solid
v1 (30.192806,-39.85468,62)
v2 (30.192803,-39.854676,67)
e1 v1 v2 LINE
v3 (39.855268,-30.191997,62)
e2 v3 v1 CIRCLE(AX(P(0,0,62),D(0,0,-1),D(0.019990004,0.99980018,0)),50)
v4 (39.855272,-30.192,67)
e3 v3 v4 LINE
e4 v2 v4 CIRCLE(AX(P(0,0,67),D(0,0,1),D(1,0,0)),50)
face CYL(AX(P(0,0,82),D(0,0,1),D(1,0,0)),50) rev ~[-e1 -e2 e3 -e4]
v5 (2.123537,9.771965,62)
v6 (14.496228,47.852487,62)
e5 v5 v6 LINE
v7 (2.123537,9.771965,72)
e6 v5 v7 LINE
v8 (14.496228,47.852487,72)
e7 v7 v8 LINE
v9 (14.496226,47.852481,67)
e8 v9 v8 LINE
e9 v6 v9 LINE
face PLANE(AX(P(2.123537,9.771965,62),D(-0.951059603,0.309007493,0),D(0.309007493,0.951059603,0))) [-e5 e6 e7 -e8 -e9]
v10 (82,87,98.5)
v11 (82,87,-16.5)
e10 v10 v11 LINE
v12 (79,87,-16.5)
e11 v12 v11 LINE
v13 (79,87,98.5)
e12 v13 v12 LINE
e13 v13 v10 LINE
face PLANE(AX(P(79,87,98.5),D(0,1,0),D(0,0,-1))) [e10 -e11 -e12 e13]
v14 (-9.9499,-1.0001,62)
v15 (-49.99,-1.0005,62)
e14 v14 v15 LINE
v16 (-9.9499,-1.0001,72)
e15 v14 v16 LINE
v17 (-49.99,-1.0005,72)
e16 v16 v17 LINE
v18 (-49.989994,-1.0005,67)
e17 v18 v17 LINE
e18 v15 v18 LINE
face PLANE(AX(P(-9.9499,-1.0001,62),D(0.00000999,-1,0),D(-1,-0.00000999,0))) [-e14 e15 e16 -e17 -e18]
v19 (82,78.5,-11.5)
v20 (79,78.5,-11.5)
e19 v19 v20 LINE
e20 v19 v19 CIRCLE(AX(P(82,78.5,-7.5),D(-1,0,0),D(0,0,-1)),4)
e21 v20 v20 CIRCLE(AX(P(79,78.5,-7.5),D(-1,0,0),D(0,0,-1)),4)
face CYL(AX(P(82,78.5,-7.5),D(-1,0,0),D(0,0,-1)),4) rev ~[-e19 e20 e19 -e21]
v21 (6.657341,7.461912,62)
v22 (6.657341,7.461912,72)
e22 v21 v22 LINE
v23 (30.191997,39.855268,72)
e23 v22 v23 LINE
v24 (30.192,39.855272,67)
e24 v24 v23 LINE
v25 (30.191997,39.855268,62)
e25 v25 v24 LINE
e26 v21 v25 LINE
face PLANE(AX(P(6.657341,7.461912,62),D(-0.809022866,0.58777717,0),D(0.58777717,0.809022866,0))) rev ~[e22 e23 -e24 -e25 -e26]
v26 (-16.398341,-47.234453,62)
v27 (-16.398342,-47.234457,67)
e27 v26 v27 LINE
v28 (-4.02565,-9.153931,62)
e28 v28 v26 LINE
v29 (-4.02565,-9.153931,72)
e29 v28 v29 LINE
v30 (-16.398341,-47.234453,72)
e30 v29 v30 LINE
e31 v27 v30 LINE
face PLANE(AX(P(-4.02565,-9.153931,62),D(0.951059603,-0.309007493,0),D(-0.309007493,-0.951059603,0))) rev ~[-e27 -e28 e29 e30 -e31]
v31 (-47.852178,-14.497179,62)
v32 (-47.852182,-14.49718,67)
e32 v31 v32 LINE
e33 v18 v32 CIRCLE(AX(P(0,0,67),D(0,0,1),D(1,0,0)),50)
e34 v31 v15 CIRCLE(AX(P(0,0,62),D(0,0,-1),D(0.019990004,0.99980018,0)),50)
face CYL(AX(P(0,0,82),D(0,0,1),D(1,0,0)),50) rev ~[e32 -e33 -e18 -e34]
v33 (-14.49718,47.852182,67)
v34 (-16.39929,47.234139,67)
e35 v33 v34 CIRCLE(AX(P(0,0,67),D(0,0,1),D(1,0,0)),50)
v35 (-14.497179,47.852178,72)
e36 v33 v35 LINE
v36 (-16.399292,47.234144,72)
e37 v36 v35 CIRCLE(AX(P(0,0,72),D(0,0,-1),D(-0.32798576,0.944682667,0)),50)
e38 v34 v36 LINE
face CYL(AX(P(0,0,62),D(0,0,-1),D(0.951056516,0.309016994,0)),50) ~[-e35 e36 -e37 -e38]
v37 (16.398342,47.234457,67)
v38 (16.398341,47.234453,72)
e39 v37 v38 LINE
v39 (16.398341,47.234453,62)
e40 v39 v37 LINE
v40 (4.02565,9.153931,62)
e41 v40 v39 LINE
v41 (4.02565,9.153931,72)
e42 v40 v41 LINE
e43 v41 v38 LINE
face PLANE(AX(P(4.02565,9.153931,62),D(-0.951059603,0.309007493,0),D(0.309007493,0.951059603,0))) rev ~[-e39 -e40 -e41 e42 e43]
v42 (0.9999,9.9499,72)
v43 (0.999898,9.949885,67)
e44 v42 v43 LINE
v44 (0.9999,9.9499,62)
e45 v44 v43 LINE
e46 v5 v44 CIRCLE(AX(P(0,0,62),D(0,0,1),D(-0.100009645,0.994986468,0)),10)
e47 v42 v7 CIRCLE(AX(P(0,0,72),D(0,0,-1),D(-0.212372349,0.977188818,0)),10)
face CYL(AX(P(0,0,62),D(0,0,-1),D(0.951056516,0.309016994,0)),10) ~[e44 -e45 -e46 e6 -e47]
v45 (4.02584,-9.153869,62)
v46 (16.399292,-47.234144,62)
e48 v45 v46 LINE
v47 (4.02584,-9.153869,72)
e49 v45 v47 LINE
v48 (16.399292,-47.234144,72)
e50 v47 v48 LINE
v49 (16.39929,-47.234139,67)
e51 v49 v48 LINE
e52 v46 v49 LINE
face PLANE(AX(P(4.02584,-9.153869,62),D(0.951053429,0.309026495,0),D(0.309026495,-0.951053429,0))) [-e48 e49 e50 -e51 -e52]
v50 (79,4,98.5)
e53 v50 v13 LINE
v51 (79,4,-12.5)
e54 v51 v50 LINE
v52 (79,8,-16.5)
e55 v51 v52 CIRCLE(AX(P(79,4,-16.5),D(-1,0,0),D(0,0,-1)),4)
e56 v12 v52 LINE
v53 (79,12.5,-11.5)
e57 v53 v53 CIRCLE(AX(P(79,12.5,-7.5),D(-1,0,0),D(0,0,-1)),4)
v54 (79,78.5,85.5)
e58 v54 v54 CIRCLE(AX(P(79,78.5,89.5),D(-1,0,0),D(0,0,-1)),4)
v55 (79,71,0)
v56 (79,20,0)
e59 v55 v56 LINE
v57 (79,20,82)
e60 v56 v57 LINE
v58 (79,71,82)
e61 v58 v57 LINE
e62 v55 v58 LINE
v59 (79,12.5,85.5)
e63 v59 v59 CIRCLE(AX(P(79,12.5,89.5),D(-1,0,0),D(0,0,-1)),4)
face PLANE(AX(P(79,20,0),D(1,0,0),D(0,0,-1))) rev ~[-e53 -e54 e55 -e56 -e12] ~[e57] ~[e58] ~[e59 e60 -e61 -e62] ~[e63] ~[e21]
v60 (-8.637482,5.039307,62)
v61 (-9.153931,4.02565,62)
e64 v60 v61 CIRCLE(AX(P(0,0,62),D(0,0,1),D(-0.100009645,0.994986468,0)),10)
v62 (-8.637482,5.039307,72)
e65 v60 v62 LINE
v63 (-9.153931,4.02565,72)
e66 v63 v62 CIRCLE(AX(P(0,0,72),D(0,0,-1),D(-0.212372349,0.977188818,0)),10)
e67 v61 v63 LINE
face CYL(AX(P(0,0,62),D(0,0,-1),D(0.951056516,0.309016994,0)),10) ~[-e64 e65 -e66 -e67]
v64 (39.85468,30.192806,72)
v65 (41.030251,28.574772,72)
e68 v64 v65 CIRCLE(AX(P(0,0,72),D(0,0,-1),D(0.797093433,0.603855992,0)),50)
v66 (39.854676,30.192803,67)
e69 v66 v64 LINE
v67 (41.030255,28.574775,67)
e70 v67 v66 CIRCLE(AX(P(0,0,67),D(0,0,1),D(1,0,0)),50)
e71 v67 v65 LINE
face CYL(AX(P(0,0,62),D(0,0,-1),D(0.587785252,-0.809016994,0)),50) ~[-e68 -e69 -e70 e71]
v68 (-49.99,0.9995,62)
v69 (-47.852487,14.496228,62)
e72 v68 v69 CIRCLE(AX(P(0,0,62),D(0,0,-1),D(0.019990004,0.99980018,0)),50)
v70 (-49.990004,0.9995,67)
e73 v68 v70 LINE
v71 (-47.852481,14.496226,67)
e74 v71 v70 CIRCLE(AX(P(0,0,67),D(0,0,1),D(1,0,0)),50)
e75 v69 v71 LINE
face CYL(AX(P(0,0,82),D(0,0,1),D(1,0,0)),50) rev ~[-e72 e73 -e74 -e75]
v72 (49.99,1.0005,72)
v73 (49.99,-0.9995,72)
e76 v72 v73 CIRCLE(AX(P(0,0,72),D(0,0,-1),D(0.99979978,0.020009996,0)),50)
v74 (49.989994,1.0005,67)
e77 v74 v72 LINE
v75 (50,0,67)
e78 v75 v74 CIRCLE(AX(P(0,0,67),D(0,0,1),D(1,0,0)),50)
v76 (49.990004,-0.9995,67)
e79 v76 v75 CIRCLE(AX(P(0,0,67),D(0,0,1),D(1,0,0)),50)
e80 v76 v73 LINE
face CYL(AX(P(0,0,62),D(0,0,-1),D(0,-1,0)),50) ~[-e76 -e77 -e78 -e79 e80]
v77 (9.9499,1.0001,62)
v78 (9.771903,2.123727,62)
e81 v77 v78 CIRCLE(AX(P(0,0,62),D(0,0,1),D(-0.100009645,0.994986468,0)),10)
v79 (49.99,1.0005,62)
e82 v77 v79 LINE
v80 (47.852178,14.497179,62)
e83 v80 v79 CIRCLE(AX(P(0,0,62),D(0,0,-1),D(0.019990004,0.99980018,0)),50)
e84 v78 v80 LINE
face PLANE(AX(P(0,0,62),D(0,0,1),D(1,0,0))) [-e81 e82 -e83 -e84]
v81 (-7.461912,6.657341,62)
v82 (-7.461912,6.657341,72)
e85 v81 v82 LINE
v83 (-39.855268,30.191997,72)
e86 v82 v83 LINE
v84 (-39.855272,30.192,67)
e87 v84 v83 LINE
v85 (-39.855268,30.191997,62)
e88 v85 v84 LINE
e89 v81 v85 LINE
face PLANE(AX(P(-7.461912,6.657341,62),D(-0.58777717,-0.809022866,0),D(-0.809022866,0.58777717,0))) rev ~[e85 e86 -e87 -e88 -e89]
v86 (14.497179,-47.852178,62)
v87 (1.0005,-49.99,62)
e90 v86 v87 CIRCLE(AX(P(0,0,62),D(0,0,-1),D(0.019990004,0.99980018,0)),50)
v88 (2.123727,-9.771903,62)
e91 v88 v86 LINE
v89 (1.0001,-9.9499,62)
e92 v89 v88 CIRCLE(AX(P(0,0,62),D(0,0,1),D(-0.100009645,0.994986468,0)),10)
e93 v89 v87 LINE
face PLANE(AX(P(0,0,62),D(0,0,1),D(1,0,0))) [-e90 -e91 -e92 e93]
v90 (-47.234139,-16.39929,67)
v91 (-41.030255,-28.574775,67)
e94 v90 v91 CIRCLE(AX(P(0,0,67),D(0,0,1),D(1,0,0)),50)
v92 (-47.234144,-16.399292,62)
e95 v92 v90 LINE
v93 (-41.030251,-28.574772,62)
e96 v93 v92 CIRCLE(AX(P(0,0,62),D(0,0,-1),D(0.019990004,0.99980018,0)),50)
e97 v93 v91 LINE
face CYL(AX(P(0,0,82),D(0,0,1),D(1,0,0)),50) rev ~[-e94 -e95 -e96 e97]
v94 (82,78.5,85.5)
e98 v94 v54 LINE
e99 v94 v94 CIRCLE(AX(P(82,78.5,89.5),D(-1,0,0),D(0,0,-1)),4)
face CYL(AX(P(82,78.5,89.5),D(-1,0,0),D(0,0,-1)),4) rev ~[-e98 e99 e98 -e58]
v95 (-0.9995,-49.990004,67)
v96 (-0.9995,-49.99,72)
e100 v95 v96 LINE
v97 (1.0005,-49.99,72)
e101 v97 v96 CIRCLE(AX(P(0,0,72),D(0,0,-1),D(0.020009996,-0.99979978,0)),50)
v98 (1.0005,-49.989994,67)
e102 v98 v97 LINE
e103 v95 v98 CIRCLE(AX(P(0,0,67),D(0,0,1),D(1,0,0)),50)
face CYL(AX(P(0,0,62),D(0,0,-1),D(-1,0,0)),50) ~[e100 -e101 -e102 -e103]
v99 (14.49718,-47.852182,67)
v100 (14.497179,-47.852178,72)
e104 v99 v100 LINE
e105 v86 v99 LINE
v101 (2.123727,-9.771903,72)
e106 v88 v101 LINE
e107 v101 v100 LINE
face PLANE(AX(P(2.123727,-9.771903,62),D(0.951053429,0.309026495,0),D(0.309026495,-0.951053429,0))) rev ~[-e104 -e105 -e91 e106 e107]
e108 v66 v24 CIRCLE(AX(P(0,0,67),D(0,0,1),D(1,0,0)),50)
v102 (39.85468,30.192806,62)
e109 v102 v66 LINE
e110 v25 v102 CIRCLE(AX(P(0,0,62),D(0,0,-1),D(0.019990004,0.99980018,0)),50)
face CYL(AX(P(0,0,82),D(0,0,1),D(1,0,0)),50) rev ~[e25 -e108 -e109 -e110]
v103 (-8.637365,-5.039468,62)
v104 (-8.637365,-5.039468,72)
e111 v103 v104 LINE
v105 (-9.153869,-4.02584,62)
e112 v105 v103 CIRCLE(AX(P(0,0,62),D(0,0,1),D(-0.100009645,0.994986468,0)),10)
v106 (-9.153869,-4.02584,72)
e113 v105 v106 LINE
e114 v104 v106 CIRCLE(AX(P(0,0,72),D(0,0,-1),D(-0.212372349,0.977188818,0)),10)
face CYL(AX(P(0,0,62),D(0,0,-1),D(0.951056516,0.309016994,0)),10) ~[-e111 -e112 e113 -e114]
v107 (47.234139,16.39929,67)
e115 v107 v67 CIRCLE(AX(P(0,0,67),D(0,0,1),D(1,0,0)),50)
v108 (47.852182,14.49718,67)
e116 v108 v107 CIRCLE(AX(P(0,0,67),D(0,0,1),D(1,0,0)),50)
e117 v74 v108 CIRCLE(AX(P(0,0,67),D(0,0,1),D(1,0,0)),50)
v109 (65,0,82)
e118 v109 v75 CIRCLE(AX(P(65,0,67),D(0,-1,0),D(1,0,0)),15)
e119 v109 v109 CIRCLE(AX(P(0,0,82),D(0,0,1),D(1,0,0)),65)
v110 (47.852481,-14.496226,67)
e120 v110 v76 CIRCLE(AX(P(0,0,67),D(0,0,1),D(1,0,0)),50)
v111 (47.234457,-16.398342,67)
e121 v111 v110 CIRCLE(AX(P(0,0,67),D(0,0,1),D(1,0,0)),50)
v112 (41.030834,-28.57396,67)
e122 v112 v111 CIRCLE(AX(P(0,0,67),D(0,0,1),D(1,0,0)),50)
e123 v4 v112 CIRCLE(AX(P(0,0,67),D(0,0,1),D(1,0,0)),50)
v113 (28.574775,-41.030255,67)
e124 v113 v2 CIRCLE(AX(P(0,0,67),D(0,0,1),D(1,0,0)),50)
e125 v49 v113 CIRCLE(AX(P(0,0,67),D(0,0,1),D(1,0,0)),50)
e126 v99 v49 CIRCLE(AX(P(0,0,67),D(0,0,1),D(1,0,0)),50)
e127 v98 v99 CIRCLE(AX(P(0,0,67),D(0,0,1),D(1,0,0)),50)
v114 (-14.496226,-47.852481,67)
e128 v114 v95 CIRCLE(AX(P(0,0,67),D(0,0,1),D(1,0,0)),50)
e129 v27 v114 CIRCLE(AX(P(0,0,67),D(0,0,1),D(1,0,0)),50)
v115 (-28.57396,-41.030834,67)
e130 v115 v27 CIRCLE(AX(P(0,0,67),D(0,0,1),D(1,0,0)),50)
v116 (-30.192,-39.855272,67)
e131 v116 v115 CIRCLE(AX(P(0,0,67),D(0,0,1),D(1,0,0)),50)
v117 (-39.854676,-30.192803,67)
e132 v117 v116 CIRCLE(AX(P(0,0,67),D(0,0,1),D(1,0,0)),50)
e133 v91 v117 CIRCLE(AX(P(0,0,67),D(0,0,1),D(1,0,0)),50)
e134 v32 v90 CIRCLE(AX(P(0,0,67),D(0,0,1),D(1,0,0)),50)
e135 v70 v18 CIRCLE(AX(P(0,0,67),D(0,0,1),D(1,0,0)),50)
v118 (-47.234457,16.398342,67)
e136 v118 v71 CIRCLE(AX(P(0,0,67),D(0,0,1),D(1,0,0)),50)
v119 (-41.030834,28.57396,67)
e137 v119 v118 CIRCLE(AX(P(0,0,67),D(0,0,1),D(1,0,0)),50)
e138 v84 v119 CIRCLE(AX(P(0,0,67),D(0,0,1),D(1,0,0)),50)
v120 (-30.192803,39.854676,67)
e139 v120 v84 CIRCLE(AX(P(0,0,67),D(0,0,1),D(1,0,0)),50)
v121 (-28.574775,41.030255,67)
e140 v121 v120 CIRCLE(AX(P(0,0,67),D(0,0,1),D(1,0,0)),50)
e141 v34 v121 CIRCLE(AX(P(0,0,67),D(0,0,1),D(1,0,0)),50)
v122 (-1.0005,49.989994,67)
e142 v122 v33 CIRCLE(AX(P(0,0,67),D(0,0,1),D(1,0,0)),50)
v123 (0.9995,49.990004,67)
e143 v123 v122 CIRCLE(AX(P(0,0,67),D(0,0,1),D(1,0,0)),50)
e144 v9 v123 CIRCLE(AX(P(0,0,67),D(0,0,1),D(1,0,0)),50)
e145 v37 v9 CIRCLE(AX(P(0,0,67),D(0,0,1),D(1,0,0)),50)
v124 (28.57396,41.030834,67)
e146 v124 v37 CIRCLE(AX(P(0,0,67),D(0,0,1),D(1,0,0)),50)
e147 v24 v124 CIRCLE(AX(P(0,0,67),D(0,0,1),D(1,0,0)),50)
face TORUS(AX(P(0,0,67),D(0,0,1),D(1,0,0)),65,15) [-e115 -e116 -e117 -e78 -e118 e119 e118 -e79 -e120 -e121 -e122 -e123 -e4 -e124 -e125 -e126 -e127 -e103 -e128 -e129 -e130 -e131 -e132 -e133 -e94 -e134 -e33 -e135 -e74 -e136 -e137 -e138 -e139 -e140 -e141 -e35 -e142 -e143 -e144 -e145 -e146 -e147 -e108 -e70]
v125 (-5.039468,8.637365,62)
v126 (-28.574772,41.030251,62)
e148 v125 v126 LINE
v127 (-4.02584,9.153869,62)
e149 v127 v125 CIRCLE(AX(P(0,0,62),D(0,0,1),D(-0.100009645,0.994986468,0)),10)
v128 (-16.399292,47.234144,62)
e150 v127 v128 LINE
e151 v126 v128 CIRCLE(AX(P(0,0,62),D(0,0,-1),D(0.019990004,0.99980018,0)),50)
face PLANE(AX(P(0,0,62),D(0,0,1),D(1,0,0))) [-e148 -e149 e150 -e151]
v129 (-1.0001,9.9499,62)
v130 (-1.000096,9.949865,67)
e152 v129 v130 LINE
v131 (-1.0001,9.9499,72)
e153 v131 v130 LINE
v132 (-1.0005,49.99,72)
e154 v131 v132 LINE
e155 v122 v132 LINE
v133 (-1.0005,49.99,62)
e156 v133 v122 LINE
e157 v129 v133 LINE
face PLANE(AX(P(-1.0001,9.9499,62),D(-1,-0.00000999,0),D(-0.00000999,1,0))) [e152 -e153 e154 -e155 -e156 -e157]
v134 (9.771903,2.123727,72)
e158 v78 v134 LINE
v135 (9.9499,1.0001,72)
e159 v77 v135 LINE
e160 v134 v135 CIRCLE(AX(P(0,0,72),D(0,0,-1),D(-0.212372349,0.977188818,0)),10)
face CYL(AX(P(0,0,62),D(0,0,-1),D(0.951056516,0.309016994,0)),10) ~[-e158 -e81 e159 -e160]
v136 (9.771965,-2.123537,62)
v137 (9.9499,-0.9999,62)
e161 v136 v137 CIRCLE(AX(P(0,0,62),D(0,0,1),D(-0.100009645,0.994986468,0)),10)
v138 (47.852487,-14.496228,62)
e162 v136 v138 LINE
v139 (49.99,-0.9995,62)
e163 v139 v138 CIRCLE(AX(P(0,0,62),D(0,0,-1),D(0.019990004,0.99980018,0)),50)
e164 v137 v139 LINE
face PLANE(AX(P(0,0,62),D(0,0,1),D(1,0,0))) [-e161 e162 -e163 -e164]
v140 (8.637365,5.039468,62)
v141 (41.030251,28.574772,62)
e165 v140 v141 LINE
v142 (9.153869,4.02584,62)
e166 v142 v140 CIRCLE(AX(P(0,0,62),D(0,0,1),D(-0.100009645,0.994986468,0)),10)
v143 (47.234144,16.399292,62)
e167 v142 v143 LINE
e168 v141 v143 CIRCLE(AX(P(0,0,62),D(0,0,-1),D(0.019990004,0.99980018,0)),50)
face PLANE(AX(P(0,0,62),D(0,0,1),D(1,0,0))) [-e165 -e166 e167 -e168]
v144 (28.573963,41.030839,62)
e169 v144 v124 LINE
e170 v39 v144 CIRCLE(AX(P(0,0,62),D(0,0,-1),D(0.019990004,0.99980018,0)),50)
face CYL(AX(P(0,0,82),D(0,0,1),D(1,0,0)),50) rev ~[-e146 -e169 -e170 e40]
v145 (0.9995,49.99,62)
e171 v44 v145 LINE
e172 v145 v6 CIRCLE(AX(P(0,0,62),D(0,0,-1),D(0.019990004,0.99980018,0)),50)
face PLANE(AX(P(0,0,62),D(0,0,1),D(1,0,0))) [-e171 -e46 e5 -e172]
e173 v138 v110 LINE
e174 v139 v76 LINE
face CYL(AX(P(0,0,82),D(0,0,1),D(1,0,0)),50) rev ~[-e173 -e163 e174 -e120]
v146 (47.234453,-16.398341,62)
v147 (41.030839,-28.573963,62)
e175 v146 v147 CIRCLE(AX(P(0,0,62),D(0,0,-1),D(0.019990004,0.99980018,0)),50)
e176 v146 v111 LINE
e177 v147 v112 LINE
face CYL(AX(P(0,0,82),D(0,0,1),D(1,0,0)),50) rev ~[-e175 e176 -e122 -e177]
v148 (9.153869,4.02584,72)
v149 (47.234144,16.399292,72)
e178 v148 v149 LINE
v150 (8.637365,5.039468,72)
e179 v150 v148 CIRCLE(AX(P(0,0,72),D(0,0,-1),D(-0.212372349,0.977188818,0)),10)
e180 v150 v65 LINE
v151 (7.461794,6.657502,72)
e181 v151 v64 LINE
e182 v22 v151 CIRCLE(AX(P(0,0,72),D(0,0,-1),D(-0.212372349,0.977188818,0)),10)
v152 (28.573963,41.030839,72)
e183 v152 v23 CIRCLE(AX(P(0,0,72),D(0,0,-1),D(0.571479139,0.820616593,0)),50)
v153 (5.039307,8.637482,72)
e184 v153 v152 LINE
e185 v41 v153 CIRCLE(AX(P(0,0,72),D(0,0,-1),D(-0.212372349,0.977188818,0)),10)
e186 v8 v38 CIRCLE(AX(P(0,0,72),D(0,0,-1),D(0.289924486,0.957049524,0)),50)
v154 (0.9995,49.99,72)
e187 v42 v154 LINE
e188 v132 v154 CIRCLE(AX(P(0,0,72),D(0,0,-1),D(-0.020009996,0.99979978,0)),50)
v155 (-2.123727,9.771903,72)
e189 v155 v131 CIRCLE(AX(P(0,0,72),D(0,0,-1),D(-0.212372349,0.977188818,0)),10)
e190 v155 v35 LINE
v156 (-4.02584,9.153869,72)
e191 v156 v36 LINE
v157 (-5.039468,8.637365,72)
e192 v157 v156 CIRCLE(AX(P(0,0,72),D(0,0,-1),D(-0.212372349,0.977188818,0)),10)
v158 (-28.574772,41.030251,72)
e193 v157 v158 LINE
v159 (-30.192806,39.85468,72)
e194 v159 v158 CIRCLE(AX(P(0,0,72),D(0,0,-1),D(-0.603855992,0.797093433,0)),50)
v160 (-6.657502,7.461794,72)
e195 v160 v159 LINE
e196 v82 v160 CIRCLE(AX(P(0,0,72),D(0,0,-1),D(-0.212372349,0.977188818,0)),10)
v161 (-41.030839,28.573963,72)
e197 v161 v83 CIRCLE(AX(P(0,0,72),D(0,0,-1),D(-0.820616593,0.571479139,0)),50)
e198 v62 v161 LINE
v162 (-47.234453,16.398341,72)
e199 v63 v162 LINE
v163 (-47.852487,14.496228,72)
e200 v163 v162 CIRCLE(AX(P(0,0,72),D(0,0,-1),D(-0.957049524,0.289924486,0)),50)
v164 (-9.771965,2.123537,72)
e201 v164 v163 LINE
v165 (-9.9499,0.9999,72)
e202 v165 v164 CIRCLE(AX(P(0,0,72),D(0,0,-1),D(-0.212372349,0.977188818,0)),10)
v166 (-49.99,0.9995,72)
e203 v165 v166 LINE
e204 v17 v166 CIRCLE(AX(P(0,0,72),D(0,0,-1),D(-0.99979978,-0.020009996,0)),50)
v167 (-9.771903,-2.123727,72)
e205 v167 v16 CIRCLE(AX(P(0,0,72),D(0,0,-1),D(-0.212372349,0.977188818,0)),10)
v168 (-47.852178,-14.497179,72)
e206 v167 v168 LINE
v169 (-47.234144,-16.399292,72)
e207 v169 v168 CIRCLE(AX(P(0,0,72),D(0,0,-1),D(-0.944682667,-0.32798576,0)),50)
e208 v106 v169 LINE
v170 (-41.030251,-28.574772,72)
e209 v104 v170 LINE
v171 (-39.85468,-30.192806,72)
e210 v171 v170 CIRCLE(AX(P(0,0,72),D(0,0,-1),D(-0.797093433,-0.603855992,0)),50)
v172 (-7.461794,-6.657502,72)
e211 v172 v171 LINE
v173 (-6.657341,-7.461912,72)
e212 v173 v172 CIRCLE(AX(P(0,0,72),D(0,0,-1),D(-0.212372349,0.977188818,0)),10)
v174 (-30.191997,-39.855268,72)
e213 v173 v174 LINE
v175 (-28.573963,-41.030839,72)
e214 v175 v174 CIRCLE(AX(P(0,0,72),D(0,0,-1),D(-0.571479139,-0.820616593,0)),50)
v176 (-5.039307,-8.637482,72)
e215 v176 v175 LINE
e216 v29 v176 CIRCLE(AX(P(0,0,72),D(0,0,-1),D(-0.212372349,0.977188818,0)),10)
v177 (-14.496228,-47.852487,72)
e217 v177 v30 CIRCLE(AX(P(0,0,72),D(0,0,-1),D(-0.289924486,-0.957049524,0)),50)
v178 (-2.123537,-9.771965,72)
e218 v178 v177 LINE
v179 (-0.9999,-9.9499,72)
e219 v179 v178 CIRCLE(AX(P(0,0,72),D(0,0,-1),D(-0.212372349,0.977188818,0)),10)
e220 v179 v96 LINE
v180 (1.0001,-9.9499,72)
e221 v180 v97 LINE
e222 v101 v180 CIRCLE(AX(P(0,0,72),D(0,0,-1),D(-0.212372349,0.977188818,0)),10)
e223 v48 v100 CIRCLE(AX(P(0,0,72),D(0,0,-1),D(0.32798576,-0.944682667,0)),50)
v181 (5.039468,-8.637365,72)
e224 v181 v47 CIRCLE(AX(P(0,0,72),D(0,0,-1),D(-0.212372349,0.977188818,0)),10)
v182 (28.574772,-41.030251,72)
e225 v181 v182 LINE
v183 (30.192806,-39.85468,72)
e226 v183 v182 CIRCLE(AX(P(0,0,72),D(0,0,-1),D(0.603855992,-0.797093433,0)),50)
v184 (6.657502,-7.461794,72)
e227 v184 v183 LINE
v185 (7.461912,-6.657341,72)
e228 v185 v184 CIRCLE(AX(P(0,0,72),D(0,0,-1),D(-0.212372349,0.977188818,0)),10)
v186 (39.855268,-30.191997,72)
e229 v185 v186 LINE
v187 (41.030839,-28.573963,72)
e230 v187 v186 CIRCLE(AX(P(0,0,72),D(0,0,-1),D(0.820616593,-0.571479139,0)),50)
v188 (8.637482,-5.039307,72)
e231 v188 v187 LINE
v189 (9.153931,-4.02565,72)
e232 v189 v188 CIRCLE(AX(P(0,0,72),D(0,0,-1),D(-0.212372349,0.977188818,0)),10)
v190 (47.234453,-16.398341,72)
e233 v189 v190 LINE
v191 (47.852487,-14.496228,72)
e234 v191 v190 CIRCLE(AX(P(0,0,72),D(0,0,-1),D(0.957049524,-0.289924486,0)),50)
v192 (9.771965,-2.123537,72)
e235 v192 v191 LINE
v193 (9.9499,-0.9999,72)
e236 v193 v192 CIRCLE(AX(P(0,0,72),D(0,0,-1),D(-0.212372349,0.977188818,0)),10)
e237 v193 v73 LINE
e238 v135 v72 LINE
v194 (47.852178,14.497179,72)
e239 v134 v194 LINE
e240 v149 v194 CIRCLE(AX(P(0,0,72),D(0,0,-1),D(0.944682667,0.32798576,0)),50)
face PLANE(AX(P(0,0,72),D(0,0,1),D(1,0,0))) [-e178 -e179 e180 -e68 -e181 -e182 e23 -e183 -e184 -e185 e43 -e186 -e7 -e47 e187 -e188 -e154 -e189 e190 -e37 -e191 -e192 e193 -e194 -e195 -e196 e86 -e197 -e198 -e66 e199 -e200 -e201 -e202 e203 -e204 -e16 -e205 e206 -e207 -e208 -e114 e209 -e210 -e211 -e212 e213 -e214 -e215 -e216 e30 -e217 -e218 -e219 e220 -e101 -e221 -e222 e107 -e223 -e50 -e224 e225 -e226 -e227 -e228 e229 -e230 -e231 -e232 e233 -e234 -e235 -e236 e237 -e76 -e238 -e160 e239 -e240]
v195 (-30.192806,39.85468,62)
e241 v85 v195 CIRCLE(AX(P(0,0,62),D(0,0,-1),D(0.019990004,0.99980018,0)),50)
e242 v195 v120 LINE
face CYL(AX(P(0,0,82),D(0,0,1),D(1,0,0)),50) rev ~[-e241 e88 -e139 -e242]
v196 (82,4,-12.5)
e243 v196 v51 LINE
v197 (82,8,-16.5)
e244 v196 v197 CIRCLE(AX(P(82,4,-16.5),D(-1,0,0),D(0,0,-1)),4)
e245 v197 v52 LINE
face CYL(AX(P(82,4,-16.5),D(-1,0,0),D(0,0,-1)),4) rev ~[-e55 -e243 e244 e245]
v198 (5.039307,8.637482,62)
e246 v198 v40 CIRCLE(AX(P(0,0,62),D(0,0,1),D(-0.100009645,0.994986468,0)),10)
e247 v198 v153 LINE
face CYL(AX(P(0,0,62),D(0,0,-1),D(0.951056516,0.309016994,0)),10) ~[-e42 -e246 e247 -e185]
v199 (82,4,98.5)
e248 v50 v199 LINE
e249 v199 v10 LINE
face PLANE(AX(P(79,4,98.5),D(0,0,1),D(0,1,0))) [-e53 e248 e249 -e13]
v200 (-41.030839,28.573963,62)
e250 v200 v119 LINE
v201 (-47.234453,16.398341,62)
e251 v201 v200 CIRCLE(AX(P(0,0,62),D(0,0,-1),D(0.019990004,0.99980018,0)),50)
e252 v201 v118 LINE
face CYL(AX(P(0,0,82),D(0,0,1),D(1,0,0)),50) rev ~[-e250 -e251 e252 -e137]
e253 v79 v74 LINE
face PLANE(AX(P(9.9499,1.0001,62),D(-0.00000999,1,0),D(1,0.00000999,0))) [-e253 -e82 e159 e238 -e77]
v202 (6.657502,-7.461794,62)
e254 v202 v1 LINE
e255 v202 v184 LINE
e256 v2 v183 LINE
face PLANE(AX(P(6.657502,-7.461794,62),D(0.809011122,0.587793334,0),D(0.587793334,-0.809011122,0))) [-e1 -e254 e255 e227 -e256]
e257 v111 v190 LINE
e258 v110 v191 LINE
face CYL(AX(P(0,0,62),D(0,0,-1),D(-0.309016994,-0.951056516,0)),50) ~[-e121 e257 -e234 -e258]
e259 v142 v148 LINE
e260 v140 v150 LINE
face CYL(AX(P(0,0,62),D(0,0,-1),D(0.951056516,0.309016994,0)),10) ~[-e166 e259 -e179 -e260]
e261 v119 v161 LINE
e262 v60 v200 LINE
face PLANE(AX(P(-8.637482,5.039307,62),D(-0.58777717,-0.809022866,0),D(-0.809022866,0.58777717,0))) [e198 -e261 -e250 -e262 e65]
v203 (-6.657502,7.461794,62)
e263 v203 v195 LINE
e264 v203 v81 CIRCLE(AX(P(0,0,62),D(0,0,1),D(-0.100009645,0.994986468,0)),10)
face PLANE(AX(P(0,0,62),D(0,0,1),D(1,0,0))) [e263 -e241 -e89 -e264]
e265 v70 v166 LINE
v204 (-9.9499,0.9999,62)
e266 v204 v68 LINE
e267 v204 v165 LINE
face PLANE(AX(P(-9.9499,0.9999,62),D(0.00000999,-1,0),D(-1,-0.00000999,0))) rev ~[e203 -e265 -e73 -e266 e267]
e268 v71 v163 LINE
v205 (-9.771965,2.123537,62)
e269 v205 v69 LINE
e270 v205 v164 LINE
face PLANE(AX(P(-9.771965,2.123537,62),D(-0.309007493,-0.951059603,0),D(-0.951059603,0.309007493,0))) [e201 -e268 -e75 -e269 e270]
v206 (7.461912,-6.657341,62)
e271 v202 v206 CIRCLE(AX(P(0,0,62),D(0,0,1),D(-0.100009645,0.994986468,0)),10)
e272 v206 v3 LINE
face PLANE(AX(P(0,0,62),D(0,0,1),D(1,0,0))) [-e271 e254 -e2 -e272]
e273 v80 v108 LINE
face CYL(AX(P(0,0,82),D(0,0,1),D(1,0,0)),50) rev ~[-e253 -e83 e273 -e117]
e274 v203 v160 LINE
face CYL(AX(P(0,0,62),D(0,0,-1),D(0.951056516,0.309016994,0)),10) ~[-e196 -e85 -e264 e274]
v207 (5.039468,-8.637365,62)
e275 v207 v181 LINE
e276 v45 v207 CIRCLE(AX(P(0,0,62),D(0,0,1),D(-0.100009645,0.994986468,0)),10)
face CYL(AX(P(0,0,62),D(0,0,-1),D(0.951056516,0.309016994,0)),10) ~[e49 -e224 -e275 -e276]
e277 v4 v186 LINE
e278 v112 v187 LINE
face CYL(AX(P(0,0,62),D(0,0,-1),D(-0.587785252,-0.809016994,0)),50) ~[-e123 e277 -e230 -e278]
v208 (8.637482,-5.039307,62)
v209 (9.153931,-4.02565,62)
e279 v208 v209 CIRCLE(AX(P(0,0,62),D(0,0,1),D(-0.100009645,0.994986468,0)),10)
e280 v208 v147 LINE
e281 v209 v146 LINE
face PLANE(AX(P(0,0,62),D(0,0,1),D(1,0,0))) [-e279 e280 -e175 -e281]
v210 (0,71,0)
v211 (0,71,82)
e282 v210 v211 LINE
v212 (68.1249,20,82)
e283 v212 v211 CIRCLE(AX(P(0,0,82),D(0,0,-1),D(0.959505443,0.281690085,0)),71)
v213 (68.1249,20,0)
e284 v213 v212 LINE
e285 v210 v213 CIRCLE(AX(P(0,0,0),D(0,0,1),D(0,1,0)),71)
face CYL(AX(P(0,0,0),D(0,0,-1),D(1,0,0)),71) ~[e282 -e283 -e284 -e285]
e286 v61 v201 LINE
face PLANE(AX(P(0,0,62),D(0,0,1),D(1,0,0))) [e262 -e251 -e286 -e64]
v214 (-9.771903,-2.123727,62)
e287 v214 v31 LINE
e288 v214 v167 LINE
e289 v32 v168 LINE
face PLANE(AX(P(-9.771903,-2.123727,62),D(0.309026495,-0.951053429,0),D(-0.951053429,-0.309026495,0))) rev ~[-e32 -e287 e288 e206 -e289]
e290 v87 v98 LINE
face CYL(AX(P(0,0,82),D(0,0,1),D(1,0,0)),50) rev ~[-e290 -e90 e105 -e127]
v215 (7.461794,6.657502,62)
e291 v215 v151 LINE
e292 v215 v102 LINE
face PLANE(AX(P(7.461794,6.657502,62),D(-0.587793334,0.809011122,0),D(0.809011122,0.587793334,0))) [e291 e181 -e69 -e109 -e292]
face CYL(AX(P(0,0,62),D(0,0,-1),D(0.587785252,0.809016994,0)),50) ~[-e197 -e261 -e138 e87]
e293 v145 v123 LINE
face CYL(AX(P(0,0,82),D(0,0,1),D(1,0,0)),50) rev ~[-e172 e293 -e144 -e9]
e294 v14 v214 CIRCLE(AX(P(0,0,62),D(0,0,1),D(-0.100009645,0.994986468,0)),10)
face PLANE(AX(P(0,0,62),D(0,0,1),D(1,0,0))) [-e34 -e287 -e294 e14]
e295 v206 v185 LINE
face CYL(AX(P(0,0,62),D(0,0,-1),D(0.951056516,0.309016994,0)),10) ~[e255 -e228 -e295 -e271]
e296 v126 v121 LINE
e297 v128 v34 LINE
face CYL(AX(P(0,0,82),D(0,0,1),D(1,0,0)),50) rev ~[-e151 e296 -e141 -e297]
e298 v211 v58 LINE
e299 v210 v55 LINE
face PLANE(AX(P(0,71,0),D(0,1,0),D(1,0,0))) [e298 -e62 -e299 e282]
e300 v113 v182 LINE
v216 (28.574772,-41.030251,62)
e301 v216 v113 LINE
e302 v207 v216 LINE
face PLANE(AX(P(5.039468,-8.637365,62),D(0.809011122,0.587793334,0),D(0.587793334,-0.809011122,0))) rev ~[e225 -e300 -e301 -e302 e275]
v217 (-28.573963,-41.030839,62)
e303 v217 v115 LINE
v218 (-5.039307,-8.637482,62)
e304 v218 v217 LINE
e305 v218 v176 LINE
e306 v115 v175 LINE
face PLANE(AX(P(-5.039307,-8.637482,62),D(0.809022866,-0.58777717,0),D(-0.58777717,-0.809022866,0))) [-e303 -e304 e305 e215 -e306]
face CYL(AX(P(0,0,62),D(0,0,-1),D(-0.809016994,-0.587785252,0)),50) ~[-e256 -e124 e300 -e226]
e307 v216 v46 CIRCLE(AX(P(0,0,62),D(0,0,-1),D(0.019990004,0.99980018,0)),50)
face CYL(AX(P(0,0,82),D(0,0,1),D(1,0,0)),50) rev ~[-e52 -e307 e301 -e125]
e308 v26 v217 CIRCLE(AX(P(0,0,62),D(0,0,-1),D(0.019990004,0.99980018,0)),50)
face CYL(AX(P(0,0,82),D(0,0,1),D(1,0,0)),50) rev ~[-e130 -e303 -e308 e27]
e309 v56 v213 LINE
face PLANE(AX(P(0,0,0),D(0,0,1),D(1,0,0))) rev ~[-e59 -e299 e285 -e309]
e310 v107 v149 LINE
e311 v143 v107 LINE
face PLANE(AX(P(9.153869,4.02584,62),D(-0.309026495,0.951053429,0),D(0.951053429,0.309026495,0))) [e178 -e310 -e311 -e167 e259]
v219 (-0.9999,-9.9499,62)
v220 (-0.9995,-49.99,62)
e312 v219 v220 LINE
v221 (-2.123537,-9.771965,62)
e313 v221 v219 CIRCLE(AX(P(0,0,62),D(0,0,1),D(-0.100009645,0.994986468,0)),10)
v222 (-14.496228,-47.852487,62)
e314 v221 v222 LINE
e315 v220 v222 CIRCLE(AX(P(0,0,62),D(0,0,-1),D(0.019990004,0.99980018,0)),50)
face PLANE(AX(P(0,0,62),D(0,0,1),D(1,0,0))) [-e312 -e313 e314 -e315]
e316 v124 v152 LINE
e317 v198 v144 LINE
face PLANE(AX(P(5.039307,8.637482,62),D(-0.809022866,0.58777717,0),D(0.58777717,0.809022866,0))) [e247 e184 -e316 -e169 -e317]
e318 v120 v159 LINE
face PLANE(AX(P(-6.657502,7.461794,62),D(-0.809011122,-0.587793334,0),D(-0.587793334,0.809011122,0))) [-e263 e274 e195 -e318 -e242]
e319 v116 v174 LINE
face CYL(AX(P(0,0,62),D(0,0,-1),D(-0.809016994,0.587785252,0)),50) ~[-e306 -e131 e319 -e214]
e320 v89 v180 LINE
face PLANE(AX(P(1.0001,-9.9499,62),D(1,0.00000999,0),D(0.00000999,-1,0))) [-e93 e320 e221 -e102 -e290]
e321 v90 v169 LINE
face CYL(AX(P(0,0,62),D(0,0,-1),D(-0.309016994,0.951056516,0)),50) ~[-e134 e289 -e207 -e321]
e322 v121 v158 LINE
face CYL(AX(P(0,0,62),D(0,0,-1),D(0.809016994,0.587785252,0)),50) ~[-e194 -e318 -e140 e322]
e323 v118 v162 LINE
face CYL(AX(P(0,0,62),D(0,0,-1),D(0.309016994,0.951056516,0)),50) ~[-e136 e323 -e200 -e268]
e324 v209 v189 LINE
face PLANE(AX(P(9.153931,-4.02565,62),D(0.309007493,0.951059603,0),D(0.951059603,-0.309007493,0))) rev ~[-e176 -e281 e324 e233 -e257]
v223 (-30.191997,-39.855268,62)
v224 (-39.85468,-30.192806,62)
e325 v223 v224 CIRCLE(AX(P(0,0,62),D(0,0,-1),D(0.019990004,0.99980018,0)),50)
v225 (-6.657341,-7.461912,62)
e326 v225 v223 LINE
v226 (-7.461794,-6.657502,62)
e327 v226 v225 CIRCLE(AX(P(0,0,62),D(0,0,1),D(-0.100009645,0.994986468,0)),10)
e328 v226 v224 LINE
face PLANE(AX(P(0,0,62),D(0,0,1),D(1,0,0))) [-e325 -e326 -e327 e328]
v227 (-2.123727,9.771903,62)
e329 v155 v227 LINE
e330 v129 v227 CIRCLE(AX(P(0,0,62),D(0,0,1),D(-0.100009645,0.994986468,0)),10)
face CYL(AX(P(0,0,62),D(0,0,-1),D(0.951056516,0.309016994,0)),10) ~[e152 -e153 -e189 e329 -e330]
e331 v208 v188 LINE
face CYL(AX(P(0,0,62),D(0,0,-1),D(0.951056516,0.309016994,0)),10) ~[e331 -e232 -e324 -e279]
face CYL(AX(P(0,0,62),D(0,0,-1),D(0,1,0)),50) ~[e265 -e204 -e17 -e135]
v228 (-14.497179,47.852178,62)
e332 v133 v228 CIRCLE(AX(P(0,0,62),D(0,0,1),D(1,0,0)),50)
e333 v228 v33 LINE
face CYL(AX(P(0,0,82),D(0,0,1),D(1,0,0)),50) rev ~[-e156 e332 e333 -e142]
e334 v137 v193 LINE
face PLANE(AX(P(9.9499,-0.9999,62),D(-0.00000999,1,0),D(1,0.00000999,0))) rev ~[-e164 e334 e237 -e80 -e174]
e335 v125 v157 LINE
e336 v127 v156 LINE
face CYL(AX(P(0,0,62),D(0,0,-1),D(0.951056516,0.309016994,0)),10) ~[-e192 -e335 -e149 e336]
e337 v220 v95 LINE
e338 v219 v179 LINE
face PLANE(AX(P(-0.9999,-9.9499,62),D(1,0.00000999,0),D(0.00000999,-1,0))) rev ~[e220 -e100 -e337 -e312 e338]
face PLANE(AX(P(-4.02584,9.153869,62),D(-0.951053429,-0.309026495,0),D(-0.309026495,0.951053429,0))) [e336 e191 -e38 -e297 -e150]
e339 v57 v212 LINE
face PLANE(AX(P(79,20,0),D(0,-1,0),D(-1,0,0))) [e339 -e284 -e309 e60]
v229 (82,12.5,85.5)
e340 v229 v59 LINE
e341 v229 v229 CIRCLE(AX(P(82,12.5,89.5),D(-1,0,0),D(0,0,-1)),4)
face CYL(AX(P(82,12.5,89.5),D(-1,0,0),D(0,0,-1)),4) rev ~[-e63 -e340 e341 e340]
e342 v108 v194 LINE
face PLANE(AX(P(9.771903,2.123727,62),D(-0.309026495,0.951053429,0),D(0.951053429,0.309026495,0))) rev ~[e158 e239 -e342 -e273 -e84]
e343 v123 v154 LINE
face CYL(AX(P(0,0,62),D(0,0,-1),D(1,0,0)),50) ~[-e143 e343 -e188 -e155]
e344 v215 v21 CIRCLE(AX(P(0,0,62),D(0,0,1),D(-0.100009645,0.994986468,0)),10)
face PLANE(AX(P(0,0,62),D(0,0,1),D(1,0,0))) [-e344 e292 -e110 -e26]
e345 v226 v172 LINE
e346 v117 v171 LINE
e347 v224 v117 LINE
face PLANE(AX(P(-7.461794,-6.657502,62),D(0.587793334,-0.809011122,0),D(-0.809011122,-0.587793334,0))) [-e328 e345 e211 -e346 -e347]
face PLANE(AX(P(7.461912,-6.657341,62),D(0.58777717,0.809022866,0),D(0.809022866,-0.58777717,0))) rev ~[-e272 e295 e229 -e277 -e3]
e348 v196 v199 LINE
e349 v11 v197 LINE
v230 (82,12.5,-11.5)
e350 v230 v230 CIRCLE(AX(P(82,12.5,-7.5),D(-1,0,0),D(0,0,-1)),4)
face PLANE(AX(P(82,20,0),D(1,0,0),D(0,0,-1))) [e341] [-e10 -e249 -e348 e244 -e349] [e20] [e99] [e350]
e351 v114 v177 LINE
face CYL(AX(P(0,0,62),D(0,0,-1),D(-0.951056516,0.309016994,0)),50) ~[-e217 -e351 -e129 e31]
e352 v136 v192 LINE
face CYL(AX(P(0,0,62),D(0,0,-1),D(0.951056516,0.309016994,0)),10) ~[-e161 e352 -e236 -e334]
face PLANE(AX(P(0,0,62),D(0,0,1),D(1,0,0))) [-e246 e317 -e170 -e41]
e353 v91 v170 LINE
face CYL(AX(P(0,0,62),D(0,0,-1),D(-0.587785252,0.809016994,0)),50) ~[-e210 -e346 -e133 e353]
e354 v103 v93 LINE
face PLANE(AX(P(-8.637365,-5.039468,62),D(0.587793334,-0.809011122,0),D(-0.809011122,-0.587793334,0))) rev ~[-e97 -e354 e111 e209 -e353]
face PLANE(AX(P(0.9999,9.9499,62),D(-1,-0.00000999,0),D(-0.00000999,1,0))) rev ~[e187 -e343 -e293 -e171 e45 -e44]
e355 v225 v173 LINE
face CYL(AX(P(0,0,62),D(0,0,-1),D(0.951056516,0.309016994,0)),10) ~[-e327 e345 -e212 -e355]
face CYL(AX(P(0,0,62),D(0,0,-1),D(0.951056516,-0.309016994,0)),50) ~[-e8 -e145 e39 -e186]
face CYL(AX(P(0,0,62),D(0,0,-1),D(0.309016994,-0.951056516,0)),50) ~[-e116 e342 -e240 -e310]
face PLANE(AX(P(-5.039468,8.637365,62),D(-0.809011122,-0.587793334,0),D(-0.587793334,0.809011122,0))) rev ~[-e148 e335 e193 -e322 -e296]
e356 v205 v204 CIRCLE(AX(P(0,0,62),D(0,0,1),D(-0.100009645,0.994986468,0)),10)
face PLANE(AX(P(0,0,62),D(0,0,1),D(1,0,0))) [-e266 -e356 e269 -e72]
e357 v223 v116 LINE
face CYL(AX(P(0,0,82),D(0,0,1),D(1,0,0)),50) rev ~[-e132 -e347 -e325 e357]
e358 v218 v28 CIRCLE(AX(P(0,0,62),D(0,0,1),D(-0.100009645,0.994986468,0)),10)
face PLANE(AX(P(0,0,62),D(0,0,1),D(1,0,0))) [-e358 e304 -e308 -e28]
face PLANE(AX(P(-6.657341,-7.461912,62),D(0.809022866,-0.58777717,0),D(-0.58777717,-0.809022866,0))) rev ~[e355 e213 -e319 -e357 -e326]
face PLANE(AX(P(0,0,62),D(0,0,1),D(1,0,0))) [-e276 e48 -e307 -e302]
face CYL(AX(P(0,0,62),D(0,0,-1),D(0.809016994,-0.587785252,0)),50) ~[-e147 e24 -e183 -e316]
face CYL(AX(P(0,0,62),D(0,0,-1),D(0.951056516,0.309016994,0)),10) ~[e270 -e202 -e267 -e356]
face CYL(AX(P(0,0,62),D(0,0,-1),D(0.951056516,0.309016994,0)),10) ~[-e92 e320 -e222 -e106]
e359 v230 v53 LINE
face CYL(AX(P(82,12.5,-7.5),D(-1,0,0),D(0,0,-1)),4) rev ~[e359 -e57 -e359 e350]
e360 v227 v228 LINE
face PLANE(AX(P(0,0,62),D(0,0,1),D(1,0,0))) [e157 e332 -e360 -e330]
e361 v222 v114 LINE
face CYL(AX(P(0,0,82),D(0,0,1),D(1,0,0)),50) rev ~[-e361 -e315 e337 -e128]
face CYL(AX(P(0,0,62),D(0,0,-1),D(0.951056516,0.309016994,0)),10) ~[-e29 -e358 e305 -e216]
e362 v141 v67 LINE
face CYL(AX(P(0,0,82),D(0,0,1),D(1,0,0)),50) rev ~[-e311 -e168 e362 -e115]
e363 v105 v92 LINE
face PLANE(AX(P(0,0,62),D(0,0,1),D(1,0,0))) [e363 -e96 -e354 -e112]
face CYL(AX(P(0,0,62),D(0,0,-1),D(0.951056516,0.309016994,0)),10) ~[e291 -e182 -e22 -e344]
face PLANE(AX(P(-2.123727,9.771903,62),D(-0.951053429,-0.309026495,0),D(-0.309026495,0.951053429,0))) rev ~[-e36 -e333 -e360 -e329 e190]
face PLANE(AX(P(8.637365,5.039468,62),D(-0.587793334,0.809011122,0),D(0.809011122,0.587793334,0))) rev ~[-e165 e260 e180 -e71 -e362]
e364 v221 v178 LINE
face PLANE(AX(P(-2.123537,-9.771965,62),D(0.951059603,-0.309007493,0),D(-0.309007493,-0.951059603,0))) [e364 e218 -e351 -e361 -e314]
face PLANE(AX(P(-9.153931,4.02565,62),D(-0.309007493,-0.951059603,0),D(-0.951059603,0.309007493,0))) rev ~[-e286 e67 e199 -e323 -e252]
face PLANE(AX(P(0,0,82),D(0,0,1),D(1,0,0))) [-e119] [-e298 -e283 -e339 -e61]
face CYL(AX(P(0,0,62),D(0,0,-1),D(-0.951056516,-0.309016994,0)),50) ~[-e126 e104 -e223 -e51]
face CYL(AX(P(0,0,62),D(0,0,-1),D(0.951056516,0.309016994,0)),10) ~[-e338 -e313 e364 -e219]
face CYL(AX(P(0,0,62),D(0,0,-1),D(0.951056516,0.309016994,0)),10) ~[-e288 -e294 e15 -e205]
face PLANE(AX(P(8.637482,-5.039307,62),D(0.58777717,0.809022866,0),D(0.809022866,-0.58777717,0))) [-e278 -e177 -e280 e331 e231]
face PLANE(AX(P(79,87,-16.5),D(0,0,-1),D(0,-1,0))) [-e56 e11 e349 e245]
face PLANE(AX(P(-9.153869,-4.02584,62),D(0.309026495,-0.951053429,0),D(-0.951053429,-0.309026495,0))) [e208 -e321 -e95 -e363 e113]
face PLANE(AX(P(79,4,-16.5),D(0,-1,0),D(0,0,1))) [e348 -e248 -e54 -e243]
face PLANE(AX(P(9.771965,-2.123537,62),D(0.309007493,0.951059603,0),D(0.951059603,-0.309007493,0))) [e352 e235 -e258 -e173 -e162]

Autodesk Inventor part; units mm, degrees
ref_plane "YZ Plane" through (0, 0, 0) normal (1, 0, 0) x (0, 1, 0)
ref_plane "XZ Plane" through (0, 0, 0) normal (0, 1, 0) x (-1, 0, 0)
ref_plane "XY Plane" through (0, 0, 0) normal (0, 0, 1) x (1, 0, 0)
sketch "Skizze1" plane through (0, 0, 0) normal (0, 0, 1) x (1, 0, 0)
  circle A0 centre (0, 0) radius 71
  line L0 (0, 71) -> (79, 71)
  line L1 (79, 71) -> (79, 20)
  line L2 (79, 20) -> (68.1249, 20)
  dimension "d0" = 142
  dimension "d1" = 20
  dimension "d2" = 79
extrude "Extrusion1" add sketch "Skizze1" along normal blind 82
sketch "Skizze2" plane through (0, 0, 82) normal (0, 0, 1) x (1, 0, 0)
  circle A0 centre (0, 0) radius 50
  dimension "d5" = 100
extrude "Extrusion2" cut sketch "Skizze2" against normal blind 20
fillet "Rundung1" radius 15 1 edges at (-50, 0, 82)
sketch "Skizze3" plane through (79, 20, 0) normal (1, 0, 0) x (0, 0, -1)
  line L0 (0, 0) -> (0, 51) projected
  line L1 (0, 51) -> (-82, 51) projected
  line L2 (-82, 0) -> (-82, 51) projected
  line L3 (0, 0) -> (-82, 0) projected
  line L4 (0, 51) -> (-82, 51) projected
  line L5 (-82, 51) -> (0, 0)
  line L6 (0, 0) -> (0, 51) projected
  line L7 (0, 51) -> (-82, 0)
  line L8 (-98.5, 67) -> (16.5, 67)
  line L9 (16.5, 67) -> (16.5, -16)
  line L10 (16.5, -16) -> (-98.5, -16)
  line L11 (-98.5, -16) -> (-98.5, 67)
  line L12 (-98.5, 67) -> (16.5, -16) construction
  line L13 (16.5, 67) -> (-98.5, -16) construction
  point P0 (0, -20)
  point P1 (-41, 25.5)
  dimension "d9" = 115
  dimension "d10" = 83
extrude "Extrusion3" add sketch "Skizze3" along normal blind 3 contours L5 L7 L0 | L3 L7 L5 | L7 L5 L1 | L2 L5 L7 | L8 L9 L10 L11
sketch "Skizze4" plane through (82, 20, 0) normal (1, 0, 0) x (0, 0, -1)
  line L0 (-98.5, 67) -> (-98.5, -16) projected
  line L1 (-98.5, 67) -> (16.5, -16)
  line L2 (16.5, -16) -> (16.5, 67) projected
  line L3 (16.5, 67) -> (-98.5, -16)
  line L4 (-89.5, -7.5) -> (7.5, -7.5)
  line L5 (7.5, -7.5) -> (7.5, 58.5)
  line L6 (7.5, 58.5) -> (-89.5, 58.5)
  line L7 (-89.5, 58.5) -> (-89.5, -7.5)
  line L8 (-89.5, -7.5) -> (7.5, 58.5) construction
  line L9 (7.5, -7.5) -> (-89.5, 58.5) construction
  point P0 (0, -20)
  point P1 (-41, 25.5)
  dimension "d13" = 97
  dimension "d14" = 66
hole "Bohrung1" at (82, 4, -16.5) at (82, 78.5, 89.5) at (82, 78.5, -7.5) at (82, 12.5, -7.5) at (82, 12.5, 89.5) direction (-1, 0, 0) diameter 8 end through all
sketch "Skizze5" plane through (0, 0, 62) normal (0, 0, 1) x (1, 0, 0)
  line L0 (0, 0) -> (-0.0005, 50)
  circle A0 centre (0, 0) radius 50 projected
  circle A1 centre (0, 0) radius 10
  line L1 (0.9999, 9.9499) -> (0.9995, 49.99)
  line L2 (-1.0001, 9.9499) -> (-1.0005, 49.99)
  dimension "d22" = 20
  dimension "d23" = 2
  dimension "d24" = 1
extrude "Extrusion4" add sketch "Skizze5" along normal blind 10 contours A1 L2 A0 L0 | L0 A0 L1 A1 | A1
fillet "Rundung2" radius 5 1 edges at (0.0001, -10, 72)
pattern_circular "Runde Anordnung1" count 20 over 360 about axis through (0, 0, 67) along (0, 0, 1) of "Extrusion4"
equation "\"d24\" = 0.5 * d23"
properties part number "Lüfter G1G108-AB17-02 1,0"
